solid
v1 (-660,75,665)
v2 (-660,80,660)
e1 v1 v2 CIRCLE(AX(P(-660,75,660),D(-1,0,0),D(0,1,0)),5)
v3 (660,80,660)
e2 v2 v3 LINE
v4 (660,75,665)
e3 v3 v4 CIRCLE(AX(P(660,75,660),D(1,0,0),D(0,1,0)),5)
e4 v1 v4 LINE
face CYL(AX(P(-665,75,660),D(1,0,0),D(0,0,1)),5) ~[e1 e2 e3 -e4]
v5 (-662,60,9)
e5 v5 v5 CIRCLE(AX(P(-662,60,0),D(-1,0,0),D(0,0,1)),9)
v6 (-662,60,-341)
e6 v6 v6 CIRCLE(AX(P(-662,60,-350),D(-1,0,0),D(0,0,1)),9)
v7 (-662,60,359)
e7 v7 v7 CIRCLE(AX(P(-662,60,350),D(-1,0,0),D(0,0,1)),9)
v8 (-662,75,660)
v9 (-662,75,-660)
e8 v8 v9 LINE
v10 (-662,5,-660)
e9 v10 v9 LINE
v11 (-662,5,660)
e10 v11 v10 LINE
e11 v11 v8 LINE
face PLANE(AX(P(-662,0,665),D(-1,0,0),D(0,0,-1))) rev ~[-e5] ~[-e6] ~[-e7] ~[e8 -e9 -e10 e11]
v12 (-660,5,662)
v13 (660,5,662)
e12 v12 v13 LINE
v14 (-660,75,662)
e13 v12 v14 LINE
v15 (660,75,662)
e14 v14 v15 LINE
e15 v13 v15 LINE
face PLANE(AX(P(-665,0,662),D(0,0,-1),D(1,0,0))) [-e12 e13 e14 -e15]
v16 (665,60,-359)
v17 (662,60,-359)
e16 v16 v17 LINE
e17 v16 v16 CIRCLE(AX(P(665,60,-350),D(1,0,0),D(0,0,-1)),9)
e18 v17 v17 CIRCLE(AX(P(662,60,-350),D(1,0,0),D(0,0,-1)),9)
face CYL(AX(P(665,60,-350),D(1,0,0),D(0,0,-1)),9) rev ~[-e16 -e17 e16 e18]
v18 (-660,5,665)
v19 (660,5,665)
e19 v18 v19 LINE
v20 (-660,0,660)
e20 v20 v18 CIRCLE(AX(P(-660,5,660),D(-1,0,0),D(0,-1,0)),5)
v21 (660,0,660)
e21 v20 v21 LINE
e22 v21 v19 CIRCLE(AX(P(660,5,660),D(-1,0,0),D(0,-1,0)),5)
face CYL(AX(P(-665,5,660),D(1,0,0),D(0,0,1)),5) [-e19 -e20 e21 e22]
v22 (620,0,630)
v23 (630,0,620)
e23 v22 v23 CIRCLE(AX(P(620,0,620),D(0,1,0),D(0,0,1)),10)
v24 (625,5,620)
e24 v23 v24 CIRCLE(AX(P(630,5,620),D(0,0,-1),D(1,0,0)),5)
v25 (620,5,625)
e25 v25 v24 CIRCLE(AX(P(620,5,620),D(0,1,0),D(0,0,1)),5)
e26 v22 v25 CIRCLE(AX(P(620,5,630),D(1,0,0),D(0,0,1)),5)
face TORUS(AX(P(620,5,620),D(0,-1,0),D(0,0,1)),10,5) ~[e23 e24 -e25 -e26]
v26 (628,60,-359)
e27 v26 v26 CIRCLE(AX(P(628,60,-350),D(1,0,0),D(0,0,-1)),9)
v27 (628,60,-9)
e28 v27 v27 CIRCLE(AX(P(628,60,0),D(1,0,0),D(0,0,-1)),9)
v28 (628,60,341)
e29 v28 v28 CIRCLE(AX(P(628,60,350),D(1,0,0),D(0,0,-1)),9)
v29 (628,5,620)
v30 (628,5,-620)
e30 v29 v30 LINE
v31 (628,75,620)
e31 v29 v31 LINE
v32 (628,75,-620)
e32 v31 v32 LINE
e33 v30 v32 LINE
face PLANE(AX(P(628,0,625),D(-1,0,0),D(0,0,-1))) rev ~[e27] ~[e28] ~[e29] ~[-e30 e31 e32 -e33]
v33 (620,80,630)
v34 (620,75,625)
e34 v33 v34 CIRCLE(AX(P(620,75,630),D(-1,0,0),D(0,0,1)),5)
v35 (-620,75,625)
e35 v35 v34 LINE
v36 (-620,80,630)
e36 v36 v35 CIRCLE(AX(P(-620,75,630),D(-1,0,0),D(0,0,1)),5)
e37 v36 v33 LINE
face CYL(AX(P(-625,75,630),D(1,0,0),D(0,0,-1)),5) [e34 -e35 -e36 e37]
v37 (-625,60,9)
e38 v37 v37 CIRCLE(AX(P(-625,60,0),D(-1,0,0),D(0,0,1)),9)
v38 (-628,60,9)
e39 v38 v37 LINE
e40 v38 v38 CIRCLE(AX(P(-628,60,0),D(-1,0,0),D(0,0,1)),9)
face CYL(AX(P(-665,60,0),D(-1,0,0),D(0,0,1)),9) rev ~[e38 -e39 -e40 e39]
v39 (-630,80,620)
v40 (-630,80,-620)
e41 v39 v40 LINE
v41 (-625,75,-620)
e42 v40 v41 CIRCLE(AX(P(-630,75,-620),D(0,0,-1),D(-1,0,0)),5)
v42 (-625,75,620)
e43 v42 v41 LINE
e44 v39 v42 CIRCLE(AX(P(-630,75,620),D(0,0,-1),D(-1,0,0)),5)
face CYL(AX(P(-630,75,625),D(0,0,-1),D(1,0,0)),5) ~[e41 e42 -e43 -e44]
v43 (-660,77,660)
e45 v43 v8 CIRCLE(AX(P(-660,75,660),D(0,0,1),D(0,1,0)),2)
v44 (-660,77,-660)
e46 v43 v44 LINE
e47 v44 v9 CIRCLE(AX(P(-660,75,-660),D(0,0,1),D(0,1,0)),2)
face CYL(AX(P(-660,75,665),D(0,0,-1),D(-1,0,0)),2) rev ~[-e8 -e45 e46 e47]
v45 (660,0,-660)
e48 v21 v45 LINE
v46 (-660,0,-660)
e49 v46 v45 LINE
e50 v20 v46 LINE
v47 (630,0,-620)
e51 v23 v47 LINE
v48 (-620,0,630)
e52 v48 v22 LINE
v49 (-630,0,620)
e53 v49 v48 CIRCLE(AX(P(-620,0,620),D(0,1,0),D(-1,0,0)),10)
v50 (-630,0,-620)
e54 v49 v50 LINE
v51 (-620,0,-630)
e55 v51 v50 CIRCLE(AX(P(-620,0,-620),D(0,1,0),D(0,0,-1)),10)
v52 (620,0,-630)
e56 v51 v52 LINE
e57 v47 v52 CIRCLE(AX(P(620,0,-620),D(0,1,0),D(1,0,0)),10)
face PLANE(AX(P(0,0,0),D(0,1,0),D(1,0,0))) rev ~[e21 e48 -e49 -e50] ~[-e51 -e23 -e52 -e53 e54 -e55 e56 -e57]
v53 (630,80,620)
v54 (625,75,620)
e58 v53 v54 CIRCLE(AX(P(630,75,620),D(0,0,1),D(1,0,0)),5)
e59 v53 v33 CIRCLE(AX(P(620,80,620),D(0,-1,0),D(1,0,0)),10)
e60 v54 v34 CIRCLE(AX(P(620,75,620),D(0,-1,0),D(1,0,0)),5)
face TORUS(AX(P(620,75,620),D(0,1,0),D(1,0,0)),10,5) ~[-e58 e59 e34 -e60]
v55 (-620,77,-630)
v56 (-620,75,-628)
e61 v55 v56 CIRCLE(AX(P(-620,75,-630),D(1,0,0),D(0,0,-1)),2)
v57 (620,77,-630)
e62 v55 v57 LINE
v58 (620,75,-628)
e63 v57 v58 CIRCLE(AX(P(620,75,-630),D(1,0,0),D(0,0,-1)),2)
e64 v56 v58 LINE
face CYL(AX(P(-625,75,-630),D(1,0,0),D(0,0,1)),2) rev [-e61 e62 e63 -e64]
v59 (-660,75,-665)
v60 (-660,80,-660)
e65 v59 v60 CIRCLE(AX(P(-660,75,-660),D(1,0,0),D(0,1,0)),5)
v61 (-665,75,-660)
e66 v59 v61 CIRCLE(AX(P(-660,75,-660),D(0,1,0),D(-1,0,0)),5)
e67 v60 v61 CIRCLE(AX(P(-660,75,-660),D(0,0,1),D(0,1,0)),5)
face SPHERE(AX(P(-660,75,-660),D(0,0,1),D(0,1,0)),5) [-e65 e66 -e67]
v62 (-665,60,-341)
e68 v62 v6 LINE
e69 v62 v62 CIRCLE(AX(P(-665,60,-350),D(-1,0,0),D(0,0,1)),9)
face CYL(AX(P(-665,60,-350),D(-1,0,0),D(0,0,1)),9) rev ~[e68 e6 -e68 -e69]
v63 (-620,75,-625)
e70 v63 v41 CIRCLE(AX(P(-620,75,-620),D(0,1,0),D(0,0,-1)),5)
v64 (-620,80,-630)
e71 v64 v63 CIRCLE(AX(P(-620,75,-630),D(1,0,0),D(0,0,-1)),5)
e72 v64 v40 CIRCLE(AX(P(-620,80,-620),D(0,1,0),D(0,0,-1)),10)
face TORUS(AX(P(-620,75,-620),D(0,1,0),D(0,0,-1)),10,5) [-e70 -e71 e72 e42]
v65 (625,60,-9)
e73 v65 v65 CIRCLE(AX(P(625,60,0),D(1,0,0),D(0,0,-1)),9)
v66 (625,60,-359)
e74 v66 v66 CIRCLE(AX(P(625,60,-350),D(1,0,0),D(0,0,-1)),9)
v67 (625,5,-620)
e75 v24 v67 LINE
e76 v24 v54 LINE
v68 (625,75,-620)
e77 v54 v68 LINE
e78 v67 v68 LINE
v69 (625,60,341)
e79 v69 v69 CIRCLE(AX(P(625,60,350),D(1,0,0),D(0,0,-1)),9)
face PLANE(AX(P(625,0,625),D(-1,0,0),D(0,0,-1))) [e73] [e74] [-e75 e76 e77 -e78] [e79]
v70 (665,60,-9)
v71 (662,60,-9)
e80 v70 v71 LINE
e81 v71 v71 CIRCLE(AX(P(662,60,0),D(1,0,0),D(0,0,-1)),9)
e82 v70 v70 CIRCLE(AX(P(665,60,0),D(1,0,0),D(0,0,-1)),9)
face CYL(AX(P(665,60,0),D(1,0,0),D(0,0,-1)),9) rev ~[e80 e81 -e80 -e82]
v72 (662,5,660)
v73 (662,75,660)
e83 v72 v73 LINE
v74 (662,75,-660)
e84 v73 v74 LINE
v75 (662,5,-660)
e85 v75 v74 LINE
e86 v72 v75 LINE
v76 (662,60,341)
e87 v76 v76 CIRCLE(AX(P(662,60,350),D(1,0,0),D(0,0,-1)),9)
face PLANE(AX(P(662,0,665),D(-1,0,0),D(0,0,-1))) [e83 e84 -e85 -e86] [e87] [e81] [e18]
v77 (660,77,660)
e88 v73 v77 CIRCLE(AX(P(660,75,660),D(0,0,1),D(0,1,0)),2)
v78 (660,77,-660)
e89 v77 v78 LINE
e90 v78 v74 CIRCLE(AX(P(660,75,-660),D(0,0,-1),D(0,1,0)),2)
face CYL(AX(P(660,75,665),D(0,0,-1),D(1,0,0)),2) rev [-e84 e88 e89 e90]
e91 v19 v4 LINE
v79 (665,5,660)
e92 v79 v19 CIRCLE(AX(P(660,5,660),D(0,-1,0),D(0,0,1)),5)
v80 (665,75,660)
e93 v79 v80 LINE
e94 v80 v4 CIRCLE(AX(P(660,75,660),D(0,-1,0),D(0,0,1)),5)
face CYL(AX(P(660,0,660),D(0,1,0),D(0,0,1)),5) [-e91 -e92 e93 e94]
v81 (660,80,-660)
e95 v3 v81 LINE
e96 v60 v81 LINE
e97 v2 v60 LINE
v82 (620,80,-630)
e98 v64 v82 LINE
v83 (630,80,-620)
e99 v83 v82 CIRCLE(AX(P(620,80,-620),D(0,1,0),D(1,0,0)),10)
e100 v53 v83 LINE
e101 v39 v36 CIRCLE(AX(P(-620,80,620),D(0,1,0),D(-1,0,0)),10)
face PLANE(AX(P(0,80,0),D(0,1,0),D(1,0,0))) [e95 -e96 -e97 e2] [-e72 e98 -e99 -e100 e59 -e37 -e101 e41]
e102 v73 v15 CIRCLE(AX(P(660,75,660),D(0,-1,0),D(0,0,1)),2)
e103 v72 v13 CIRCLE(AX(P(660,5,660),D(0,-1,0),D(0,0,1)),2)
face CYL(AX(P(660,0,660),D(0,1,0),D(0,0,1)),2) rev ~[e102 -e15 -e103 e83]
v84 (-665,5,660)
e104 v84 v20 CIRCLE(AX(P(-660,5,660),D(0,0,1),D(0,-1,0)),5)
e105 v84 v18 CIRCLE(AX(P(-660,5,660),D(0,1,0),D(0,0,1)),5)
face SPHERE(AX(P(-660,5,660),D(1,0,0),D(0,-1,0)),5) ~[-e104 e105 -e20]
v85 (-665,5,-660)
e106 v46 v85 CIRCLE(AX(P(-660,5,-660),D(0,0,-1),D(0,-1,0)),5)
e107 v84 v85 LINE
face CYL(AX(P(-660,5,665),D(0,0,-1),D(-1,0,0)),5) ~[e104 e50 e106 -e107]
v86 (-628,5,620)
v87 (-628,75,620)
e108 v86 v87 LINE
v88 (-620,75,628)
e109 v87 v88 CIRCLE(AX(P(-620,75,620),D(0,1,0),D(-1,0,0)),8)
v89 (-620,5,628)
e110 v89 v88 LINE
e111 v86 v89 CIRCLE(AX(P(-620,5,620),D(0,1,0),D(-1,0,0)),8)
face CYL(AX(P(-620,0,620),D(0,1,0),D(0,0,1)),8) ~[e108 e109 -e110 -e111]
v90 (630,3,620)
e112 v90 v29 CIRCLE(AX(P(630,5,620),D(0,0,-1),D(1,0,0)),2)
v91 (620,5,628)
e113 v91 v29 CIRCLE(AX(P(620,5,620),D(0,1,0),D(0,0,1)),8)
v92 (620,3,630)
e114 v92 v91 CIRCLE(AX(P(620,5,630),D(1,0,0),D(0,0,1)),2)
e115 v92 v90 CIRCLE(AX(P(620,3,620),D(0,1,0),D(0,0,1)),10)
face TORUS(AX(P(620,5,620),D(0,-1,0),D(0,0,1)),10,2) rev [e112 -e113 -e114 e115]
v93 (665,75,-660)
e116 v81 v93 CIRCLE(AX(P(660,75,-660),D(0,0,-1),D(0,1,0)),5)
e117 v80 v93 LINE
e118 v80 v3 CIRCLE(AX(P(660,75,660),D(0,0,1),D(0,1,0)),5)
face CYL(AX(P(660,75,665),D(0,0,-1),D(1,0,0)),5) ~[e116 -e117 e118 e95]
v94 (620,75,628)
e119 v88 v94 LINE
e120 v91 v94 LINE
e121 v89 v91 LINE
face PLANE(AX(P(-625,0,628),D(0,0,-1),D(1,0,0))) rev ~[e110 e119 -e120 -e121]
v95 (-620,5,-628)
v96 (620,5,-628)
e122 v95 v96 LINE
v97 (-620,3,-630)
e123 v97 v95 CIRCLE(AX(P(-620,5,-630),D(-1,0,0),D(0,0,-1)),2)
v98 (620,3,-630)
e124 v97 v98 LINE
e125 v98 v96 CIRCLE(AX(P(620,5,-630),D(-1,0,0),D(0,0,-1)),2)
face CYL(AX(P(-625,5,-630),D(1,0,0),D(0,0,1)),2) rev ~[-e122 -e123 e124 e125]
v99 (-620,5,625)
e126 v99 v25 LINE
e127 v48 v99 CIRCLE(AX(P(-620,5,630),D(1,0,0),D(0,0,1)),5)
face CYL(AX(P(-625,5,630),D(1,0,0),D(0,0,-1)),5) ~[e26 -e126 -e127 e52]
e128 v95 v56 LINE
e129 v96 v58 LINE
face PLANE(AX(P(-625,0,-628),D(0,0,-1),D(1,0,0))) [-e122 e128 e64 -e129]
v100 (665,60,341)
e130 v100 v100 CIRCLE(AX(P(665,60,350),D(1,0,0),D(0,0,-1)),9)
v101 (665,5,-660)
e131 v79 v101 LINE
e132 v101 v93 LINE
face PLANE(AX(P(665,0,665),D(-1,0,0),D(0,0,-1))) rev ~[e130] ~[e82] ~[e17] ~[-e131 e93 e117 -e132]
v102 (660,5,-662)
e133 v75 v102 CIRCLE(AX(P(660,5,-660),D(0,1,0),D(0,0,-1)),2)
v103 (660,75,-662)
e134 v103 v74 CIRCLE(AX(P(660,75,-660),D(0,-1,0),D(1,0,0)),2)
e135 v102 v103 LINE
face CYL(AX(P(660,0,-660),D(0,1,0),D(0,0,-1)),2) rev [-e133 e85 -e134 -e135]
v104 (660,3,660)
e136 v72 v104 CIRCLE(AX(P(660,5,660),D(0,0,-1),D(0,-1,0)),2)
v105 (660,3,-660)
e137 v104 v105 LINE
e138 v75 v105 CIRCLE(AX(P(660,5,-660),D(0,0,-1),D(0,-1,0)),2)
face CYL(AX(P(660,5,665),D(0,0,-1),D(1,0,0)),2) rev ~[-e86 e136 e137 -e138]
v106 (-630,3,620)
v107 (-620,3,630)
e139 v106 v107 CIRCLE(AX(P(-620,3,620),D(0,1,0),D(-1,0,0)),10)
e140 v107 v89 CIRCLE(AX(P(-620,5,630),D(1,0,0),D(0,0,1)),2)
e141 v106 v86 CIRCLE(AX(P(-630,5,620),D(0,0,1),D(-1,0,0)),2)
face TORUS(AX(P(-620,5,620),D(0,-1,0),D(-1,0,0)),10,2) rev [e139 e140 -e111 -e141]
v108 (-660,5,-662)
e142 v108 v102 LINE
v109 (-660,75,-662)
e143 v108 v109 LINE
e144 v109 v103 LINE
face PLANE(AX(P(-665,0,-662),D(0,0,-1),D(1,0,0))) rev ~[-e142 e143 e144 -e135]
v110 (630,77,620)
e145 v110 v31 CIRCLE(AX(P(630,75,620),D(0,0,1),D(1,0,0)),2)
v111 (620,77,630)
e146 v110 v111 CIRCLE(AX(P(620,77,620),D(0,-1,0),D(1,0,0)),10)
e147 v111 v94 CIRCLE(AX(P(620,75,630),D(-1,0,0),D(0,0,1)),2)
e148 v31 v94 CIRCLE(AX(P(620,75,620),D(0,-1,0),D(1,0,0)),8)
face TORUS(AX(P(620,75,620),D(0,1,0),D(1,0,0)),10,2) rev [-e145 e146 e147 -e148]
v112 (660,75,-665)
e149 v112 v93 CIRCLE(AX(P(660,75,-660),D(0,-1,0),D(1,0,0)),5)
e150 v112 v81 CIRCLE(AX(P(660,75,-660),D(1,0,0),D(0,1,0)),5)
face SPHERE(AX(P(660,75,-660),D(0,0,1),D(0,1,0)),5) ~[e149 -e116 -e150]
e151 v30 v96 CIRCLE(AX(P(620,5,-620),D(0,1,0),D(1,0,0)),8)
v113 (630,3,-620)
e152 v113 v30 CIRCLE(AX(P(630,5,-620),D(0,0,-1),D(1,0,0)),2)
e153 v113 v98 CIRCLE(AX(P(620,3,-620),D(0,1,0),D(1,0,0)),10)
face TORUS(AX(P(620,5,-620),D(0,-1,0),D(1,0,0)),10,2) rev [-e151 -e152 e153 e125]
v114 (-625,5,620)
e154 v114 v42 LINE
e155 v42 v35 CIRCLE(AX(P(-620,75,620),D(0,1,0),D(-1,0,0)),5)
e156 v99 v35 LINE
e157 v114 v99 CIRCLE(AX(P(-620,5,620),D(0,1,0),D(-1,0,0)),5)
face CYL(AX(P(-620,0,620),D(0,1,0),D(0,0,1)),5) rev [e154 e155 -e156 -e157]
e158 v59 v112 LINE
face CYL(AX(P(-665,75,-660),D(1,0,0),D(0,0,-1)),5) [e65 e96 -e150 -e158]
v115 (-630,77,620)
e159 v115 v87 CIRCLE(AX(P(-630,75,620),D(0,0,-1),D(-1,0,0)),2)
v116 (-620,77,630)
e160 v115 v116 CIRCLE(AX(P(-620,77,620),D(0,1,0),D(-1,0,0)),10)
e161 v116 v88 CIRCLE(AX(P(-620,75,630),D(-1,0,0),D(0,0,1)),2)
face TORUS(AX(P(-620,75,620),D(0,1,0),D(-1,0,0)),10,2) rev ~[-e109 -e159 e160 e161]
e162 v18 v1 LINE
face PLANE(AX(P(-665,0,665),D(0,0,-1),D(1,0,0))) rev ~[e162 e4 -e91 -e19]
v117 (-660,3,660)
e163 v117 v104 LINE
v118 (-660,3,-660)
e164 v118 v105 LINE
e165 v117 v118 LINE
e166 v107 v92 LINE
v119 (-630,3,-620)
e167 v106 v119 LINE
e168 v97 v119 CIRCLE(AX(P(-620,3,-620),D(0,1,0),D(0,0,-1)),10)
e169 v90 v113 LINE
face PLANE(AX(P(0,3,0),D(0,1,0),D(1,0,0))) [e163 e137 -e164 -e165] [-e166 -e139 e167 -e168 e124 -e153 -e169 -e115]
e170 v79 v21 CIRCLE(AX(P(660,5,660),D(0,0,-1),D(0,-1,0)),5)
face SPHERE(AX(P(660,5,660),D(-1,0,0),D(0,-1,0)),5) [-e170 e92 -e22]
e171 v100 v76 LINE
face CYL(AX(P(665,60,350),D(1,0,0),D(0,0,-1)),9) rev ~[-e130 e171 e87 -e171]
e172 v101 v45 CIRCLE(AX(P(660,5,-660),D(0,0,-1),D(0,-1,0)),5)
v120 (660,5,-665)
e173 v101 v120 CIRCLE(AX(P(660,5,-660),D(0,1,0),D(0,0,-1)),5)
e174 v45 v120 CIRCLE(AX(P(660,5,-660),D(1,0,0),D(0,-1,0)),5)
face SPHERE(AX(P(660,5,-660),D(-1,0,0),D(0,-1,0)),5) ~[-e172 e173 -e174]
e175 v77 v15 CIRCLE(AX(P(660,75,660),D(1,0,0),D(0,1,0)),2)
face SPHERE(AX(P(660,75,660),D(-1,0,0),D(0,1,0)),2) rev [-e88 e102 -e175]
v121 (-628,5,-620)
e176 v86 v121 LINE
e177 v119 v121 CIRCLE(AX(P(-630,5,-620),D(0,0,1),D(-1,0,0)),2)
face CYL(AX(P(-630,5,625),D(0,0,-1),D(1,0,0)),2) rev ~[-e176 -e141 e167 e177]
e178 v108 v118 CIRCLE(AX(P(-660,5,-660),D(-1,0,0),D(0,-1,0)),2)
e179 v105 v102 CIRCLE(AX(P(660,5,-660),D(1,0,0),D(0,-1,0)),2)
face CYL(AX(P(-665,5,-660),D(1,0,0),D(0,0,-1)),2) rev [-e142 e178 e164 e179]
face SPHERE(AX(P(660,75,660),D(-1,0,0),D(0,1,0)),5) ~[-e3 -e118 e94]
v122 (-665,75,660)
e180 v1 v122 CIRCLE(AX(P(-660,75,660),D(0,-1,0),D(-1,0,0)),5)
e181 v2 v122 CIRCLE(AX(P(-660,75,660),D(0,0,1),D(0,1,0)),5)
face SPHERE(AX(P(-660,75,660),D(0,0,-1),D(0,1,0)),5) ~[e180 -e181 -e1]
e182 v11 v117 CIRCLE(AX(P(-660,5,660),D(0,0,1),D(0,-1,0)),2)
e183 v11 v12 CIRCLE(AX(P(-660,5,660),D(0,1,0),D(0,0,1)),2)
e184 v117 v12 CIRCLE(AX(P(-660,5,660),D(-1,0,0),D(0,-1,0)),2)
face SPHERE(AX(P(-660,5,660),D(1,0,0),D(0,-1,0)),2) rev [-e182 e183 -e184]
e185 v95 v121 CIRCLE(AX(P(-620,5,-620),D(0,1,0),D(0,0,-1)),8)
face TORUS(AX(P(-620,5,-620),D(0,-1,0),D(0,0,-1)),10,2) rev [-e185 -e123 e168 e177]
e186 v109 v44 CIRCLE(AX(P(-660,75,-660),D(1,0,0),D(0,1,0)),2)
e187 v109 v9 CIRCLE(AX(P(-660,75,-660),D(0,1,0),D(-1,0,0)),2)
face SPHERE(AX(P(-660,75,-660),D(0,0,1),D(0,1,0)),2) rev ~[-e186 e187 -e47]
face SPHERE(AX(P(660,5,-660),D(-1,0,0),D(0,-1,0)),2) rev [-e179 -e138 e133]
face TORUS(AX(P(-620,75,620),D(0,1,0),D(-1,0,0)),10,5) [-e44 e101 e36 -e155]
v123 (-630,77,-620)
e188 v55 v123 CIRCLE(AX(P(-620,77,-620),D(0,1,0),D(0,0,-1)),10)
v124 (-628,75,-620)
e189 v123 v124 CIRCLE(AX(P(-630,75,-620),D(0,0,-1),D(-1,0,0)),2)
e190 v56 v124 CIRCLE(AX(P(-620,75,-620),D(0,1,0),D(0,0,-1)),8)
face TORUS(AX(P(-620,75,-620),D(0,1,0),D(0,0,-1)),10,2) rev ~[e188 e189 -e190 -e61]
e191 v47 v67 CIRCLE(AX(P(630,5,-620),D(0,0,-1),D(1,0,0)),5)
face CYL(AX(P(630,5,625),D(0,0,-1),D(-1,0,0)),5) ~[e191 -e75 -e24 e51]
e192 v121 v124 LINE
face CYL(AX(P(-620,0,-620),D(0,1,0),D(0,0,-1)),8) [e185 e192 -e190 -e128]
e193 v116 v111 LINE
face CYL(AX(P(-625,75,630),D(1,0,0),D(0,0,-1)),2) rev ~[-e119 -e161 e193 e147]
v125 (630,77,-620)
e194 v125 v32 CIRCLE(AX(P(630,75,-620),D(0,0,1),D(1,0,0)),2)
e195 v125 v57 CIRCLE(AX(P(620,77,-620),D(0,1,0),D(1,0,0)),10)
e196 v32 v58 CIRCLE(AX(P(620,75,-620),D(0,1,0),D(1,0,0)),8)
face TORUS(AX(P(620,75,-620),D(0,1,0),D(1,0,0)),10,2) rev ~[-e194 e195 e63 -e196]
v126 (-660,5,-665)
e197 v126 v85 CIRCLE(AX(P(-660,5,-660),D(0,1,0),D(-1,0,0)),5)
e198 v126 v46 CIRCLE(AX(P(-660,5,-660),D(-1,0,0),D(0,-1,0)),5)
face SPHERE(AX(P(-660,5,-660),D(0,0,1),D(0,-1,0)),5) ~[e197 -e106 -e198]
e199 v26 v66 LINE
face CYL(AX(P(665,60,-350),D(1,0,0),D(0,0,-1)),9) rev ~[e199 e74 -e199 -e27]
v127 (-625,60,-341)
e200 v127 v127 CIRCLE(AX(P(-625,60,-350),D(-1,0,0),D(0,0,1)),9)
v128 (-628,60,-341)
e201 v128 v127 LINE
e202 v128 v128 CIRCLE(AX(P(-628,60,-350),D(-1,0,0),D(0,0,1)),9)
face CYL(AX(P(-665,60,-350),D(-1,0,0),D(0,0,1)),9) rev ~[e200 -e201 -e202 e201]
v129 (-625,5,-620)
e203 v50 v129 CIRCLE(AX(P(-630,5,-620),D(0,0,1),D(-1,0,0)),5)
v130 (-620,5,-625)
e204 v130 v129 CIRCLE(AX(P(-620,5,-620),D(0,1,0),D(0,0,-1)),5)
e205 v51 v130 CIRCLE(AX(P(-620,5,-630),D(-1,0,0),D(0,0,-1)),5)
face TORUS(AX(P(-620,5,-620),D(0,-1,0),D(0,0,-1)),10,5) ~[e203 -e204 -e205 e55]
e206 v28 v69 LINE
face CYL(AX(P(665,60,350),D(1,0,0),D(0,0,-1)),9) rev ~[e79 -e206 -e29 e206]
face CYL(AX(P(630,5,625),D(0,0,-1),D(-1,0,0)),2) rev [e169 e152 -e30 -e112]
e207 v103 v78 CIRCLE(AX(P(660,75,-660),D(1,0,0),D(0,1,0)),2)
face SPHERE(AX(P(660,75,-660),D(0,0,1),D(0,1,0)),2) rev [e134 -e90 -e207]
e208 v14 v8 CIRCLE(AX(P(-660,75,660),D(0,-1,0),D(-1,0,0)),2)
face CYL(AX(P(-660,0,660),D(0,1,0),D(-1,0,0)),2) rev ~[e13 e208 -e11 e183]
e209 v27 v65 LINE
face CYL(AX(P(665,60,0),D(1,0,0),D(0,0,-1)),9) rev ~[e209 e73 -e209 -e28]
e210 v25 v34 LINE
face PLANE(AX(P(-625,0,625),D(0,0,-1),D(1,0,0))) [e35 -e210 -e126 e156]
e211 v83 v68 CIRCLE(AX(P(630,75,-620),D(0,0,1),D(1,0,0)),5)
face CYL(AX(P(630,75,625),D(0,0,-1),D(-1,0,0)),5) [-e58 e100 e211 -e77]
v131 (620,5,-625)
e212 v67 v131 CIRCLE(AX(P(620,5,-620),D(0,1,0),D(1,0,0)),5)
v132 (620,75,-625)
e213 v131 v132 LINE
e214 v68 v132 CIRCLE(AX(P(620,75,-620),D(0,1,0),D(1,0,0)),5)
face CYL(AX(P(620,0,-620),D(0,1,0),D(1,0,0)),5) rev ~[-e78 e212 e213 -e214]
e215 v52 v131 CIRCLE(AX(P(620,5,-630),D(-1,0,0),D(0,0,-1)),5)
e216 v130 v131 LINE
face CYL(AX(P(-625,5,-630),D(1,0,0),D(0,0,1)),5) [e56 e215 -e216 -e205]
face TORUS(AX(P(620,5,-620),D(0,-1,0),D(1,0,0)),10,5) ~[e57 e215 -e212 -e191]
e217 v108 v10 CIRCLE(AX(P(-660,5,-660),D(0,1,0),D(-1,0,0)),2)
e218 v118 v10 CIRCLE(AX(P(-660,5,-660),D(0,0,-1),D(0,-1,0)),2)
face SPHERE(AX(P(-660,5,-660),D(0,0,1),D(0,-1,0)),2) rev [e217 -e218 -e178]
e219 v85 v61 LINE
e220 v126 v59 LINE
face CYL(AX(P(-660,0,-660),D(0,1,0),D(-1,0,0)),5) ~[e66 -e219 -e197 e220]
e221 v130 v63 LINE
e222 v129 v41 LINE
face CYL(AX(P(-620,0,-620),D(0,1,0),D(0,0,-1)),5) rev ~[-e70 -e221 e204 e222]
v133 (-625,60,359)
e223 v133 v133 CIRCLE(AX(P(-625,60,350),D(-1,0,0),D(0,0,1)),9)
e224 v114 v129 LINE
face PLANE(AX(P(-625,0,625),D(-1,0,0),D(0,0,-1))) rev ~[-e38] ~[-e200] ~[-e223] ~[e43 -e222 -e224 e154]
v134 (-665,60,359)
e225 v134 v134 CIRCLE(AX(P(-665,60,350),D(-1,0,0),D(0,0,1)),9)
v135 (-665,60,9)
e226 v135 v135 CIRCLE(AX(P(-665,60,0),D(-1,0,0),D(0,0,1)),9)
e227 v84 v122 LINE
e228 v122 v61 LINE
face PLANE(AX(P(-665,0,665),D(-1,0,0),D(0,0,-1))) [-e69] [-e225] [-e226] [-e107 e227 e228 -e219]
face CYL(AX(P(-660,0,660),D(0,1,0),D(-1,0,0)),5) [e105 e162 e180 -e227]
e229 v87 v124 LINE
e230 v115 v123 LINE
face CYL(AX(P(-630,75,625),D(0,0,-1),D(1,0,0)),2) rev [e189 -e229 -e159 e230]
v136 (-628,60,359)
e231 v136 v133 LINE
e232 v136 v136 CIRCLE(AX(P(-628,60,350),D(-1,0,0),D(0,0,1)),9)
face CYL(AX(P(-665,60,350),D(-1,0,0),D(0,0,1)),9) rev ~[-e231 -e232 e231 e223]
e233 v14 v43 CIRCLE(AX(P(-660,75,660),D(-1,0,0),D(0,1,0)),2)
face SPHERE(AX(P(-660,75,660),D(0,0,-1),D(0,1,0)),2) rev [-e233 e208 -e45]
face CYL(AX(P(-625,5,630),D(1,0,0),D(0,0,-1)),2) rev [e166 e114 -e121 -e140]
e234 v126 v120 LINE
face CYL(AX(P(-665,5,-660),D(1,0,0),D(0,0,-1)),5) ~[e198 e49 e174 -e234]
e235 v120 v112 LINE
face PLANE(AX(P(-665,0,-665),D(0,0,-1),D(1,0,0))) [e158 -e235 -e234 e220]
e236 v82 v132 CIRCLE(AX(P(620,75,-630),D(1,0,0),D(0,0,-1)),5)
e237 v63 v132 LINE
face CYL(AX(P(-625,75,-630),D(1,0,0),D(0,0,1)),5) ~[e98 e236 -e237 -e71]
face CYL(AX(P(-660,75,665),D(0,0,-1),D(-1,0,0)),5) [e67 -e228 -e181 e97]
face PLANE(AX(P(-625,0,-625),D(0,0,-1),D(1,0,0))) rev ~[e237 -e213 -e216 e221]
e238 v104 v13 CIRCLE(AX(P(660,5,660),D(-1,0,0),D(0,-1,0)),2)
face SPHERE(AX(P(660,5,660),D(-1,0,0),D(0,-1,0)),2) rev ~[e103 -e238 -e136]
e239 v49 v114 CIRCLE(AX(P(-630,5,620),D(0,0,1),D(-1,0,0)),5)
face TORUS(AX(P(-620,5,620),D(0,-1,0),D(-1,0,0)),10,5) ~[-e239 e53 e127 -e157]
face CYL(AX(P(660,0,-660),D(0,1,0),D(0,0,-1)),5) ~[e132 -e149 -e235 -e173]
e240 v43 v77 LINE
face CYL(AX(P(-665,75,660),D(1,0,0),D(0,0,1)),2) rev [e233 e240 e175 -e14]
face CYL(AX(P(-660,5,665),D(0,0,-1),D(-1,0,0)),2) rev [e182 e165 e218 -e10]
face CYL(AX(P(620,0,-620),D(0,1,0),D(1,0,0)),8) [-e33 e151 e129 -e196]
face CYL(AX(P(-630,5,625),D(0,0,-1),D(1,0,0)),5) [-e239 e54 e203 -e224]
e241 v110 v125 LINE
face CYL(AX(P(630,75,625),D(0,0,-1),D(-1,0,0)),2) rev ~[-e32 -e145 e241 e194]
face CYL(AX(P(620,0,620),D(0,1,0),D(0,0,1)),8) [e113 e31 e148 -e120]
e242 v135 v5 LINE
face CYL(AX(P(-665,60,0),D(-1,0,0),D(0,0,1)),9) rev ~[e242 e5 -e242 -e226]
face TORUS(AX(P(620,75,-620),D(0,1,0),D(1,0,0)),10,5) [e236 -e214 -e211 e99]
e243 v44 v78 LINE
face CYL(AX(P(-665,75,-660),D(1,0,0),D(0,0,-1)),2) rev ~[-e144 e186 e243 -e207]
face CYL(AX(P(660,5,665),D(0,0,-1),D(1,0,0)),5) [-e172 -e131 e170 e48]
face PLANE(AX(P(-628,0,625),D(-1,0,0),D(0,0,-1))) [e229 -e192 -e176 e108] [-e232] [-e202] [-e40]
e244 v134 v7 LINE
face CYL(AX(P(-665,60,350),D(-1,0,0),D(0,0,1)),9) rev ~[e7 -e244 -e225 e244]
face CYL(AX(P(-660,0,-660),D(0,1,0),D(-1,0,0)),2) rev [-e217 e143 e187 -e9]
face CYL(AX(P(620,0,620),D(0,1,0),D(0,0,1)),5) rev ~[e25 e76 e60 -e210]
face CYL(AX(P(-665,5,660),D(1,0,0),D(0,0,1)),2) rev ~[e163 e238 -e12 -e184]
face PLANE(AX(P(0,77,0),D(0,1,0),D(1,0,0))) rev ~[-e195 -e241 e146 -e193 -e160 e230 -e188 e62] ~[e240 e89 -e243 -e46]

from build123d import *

# Parameters (mm, degrees)
SKETCH1_W           = 1330
SKETCH1_H           = 1330
SKETCH1_W_2         = 1250
SKETCH1_H_2         = 1250
BOSS_EXTRUDE1_DEPTH = 80
FILLET1_R           = 5
SHELL1_T            = 3
SKETCH2_R           = 9
CUT_EXTRUDE1_DEPTH  = 40
SKETCH3_R           = 9
CUT_EXTRUDE2_DEPTH  = 40


with BuildPart() as part:
    # Sketch1 → Boss-Extrude1 (new body)
    with BuildSketch(Plane(origin=(0, 0, 0), x_dir=(1, 0, 0), z_dir=(0, 1, 0))):
        Rectangle(SKETCH1_W, SKETCH1_H)
        Rectangle(SKETCH1_W_2, SKETCH1_H_2, mode=Mode.SUBTRACT)
    extrude(amount=BOSS_EXTRUDE1_DEPTH)

    # Fillet1
    fillet1_edges = [part.edges().sort_by_distance(p)[0] for p in [
        (-665, 80, 0),
        (0, 80, 665),
        (625, 0, 0),
        (625, 40, 625),
        (0, 0, -625),
        (625, 40, -625),
        (-625, 0, 0),
        (-625, 40, -625),
        (0, 0, 625),
        (-625, 40, 625),
        (625, 80, 0),
        (0, 80, -625),
        (-625, 80, 0),
        (0, 80, 625),
        (665, 80, 0),
        (0, 0, 665),
        (-665, 0, 0),
        (0, 0, -665),
        (665, 0, 0),
        (0, 80, -665),
        (665, 40, 665),
        (-665, 40, 665),
        (-665, 40, -665),
        (665, 40, -665),
    ]]
    fillet(fillet1_edges, radius=FILLET1_R)

    # Shell1 (no face opened: a closed hollow body)
    add(offset(amount=-SHELL1_T, mode=Mode.PRIVATE), mode=Mode.SUBTRACT)

    # Sketch2 → Cut-Extrude1 (cut)
    with BuildSketch(Plane(origin=(665, 0, 0), x_dir=(0, 0, -1), z_dir=(1, 0, 0))):
        with Locations((-350, 60)):
            Circle(SKETCH2_R)
        with Locations((0, 60)):
            Circle(SKETCH2_R)
        with Locations((350, 60)):
            Circle(SKETCH2_R)
    extrude(amount=-CUT_EXTRUDE1_DEPTH, mode=Mode.SUBTRACT)

    # Sketch3 → Cut-Extrude2 (cut)
    with BuildSketch(Plane.ZY.offset(665)):
        with Locations((-350, 60)):
            Circle(SKETCH3_R)
        with Locations((0, 60)):
            Circle(SKETCH3_R)
        with Locations((350, 60)):
            Circle(SKETCH3_R)
    extrude(amount=-CUT_EXTRUDE2_DEPTH, mode=Mode.SUBTRACT)


solid = part.part
